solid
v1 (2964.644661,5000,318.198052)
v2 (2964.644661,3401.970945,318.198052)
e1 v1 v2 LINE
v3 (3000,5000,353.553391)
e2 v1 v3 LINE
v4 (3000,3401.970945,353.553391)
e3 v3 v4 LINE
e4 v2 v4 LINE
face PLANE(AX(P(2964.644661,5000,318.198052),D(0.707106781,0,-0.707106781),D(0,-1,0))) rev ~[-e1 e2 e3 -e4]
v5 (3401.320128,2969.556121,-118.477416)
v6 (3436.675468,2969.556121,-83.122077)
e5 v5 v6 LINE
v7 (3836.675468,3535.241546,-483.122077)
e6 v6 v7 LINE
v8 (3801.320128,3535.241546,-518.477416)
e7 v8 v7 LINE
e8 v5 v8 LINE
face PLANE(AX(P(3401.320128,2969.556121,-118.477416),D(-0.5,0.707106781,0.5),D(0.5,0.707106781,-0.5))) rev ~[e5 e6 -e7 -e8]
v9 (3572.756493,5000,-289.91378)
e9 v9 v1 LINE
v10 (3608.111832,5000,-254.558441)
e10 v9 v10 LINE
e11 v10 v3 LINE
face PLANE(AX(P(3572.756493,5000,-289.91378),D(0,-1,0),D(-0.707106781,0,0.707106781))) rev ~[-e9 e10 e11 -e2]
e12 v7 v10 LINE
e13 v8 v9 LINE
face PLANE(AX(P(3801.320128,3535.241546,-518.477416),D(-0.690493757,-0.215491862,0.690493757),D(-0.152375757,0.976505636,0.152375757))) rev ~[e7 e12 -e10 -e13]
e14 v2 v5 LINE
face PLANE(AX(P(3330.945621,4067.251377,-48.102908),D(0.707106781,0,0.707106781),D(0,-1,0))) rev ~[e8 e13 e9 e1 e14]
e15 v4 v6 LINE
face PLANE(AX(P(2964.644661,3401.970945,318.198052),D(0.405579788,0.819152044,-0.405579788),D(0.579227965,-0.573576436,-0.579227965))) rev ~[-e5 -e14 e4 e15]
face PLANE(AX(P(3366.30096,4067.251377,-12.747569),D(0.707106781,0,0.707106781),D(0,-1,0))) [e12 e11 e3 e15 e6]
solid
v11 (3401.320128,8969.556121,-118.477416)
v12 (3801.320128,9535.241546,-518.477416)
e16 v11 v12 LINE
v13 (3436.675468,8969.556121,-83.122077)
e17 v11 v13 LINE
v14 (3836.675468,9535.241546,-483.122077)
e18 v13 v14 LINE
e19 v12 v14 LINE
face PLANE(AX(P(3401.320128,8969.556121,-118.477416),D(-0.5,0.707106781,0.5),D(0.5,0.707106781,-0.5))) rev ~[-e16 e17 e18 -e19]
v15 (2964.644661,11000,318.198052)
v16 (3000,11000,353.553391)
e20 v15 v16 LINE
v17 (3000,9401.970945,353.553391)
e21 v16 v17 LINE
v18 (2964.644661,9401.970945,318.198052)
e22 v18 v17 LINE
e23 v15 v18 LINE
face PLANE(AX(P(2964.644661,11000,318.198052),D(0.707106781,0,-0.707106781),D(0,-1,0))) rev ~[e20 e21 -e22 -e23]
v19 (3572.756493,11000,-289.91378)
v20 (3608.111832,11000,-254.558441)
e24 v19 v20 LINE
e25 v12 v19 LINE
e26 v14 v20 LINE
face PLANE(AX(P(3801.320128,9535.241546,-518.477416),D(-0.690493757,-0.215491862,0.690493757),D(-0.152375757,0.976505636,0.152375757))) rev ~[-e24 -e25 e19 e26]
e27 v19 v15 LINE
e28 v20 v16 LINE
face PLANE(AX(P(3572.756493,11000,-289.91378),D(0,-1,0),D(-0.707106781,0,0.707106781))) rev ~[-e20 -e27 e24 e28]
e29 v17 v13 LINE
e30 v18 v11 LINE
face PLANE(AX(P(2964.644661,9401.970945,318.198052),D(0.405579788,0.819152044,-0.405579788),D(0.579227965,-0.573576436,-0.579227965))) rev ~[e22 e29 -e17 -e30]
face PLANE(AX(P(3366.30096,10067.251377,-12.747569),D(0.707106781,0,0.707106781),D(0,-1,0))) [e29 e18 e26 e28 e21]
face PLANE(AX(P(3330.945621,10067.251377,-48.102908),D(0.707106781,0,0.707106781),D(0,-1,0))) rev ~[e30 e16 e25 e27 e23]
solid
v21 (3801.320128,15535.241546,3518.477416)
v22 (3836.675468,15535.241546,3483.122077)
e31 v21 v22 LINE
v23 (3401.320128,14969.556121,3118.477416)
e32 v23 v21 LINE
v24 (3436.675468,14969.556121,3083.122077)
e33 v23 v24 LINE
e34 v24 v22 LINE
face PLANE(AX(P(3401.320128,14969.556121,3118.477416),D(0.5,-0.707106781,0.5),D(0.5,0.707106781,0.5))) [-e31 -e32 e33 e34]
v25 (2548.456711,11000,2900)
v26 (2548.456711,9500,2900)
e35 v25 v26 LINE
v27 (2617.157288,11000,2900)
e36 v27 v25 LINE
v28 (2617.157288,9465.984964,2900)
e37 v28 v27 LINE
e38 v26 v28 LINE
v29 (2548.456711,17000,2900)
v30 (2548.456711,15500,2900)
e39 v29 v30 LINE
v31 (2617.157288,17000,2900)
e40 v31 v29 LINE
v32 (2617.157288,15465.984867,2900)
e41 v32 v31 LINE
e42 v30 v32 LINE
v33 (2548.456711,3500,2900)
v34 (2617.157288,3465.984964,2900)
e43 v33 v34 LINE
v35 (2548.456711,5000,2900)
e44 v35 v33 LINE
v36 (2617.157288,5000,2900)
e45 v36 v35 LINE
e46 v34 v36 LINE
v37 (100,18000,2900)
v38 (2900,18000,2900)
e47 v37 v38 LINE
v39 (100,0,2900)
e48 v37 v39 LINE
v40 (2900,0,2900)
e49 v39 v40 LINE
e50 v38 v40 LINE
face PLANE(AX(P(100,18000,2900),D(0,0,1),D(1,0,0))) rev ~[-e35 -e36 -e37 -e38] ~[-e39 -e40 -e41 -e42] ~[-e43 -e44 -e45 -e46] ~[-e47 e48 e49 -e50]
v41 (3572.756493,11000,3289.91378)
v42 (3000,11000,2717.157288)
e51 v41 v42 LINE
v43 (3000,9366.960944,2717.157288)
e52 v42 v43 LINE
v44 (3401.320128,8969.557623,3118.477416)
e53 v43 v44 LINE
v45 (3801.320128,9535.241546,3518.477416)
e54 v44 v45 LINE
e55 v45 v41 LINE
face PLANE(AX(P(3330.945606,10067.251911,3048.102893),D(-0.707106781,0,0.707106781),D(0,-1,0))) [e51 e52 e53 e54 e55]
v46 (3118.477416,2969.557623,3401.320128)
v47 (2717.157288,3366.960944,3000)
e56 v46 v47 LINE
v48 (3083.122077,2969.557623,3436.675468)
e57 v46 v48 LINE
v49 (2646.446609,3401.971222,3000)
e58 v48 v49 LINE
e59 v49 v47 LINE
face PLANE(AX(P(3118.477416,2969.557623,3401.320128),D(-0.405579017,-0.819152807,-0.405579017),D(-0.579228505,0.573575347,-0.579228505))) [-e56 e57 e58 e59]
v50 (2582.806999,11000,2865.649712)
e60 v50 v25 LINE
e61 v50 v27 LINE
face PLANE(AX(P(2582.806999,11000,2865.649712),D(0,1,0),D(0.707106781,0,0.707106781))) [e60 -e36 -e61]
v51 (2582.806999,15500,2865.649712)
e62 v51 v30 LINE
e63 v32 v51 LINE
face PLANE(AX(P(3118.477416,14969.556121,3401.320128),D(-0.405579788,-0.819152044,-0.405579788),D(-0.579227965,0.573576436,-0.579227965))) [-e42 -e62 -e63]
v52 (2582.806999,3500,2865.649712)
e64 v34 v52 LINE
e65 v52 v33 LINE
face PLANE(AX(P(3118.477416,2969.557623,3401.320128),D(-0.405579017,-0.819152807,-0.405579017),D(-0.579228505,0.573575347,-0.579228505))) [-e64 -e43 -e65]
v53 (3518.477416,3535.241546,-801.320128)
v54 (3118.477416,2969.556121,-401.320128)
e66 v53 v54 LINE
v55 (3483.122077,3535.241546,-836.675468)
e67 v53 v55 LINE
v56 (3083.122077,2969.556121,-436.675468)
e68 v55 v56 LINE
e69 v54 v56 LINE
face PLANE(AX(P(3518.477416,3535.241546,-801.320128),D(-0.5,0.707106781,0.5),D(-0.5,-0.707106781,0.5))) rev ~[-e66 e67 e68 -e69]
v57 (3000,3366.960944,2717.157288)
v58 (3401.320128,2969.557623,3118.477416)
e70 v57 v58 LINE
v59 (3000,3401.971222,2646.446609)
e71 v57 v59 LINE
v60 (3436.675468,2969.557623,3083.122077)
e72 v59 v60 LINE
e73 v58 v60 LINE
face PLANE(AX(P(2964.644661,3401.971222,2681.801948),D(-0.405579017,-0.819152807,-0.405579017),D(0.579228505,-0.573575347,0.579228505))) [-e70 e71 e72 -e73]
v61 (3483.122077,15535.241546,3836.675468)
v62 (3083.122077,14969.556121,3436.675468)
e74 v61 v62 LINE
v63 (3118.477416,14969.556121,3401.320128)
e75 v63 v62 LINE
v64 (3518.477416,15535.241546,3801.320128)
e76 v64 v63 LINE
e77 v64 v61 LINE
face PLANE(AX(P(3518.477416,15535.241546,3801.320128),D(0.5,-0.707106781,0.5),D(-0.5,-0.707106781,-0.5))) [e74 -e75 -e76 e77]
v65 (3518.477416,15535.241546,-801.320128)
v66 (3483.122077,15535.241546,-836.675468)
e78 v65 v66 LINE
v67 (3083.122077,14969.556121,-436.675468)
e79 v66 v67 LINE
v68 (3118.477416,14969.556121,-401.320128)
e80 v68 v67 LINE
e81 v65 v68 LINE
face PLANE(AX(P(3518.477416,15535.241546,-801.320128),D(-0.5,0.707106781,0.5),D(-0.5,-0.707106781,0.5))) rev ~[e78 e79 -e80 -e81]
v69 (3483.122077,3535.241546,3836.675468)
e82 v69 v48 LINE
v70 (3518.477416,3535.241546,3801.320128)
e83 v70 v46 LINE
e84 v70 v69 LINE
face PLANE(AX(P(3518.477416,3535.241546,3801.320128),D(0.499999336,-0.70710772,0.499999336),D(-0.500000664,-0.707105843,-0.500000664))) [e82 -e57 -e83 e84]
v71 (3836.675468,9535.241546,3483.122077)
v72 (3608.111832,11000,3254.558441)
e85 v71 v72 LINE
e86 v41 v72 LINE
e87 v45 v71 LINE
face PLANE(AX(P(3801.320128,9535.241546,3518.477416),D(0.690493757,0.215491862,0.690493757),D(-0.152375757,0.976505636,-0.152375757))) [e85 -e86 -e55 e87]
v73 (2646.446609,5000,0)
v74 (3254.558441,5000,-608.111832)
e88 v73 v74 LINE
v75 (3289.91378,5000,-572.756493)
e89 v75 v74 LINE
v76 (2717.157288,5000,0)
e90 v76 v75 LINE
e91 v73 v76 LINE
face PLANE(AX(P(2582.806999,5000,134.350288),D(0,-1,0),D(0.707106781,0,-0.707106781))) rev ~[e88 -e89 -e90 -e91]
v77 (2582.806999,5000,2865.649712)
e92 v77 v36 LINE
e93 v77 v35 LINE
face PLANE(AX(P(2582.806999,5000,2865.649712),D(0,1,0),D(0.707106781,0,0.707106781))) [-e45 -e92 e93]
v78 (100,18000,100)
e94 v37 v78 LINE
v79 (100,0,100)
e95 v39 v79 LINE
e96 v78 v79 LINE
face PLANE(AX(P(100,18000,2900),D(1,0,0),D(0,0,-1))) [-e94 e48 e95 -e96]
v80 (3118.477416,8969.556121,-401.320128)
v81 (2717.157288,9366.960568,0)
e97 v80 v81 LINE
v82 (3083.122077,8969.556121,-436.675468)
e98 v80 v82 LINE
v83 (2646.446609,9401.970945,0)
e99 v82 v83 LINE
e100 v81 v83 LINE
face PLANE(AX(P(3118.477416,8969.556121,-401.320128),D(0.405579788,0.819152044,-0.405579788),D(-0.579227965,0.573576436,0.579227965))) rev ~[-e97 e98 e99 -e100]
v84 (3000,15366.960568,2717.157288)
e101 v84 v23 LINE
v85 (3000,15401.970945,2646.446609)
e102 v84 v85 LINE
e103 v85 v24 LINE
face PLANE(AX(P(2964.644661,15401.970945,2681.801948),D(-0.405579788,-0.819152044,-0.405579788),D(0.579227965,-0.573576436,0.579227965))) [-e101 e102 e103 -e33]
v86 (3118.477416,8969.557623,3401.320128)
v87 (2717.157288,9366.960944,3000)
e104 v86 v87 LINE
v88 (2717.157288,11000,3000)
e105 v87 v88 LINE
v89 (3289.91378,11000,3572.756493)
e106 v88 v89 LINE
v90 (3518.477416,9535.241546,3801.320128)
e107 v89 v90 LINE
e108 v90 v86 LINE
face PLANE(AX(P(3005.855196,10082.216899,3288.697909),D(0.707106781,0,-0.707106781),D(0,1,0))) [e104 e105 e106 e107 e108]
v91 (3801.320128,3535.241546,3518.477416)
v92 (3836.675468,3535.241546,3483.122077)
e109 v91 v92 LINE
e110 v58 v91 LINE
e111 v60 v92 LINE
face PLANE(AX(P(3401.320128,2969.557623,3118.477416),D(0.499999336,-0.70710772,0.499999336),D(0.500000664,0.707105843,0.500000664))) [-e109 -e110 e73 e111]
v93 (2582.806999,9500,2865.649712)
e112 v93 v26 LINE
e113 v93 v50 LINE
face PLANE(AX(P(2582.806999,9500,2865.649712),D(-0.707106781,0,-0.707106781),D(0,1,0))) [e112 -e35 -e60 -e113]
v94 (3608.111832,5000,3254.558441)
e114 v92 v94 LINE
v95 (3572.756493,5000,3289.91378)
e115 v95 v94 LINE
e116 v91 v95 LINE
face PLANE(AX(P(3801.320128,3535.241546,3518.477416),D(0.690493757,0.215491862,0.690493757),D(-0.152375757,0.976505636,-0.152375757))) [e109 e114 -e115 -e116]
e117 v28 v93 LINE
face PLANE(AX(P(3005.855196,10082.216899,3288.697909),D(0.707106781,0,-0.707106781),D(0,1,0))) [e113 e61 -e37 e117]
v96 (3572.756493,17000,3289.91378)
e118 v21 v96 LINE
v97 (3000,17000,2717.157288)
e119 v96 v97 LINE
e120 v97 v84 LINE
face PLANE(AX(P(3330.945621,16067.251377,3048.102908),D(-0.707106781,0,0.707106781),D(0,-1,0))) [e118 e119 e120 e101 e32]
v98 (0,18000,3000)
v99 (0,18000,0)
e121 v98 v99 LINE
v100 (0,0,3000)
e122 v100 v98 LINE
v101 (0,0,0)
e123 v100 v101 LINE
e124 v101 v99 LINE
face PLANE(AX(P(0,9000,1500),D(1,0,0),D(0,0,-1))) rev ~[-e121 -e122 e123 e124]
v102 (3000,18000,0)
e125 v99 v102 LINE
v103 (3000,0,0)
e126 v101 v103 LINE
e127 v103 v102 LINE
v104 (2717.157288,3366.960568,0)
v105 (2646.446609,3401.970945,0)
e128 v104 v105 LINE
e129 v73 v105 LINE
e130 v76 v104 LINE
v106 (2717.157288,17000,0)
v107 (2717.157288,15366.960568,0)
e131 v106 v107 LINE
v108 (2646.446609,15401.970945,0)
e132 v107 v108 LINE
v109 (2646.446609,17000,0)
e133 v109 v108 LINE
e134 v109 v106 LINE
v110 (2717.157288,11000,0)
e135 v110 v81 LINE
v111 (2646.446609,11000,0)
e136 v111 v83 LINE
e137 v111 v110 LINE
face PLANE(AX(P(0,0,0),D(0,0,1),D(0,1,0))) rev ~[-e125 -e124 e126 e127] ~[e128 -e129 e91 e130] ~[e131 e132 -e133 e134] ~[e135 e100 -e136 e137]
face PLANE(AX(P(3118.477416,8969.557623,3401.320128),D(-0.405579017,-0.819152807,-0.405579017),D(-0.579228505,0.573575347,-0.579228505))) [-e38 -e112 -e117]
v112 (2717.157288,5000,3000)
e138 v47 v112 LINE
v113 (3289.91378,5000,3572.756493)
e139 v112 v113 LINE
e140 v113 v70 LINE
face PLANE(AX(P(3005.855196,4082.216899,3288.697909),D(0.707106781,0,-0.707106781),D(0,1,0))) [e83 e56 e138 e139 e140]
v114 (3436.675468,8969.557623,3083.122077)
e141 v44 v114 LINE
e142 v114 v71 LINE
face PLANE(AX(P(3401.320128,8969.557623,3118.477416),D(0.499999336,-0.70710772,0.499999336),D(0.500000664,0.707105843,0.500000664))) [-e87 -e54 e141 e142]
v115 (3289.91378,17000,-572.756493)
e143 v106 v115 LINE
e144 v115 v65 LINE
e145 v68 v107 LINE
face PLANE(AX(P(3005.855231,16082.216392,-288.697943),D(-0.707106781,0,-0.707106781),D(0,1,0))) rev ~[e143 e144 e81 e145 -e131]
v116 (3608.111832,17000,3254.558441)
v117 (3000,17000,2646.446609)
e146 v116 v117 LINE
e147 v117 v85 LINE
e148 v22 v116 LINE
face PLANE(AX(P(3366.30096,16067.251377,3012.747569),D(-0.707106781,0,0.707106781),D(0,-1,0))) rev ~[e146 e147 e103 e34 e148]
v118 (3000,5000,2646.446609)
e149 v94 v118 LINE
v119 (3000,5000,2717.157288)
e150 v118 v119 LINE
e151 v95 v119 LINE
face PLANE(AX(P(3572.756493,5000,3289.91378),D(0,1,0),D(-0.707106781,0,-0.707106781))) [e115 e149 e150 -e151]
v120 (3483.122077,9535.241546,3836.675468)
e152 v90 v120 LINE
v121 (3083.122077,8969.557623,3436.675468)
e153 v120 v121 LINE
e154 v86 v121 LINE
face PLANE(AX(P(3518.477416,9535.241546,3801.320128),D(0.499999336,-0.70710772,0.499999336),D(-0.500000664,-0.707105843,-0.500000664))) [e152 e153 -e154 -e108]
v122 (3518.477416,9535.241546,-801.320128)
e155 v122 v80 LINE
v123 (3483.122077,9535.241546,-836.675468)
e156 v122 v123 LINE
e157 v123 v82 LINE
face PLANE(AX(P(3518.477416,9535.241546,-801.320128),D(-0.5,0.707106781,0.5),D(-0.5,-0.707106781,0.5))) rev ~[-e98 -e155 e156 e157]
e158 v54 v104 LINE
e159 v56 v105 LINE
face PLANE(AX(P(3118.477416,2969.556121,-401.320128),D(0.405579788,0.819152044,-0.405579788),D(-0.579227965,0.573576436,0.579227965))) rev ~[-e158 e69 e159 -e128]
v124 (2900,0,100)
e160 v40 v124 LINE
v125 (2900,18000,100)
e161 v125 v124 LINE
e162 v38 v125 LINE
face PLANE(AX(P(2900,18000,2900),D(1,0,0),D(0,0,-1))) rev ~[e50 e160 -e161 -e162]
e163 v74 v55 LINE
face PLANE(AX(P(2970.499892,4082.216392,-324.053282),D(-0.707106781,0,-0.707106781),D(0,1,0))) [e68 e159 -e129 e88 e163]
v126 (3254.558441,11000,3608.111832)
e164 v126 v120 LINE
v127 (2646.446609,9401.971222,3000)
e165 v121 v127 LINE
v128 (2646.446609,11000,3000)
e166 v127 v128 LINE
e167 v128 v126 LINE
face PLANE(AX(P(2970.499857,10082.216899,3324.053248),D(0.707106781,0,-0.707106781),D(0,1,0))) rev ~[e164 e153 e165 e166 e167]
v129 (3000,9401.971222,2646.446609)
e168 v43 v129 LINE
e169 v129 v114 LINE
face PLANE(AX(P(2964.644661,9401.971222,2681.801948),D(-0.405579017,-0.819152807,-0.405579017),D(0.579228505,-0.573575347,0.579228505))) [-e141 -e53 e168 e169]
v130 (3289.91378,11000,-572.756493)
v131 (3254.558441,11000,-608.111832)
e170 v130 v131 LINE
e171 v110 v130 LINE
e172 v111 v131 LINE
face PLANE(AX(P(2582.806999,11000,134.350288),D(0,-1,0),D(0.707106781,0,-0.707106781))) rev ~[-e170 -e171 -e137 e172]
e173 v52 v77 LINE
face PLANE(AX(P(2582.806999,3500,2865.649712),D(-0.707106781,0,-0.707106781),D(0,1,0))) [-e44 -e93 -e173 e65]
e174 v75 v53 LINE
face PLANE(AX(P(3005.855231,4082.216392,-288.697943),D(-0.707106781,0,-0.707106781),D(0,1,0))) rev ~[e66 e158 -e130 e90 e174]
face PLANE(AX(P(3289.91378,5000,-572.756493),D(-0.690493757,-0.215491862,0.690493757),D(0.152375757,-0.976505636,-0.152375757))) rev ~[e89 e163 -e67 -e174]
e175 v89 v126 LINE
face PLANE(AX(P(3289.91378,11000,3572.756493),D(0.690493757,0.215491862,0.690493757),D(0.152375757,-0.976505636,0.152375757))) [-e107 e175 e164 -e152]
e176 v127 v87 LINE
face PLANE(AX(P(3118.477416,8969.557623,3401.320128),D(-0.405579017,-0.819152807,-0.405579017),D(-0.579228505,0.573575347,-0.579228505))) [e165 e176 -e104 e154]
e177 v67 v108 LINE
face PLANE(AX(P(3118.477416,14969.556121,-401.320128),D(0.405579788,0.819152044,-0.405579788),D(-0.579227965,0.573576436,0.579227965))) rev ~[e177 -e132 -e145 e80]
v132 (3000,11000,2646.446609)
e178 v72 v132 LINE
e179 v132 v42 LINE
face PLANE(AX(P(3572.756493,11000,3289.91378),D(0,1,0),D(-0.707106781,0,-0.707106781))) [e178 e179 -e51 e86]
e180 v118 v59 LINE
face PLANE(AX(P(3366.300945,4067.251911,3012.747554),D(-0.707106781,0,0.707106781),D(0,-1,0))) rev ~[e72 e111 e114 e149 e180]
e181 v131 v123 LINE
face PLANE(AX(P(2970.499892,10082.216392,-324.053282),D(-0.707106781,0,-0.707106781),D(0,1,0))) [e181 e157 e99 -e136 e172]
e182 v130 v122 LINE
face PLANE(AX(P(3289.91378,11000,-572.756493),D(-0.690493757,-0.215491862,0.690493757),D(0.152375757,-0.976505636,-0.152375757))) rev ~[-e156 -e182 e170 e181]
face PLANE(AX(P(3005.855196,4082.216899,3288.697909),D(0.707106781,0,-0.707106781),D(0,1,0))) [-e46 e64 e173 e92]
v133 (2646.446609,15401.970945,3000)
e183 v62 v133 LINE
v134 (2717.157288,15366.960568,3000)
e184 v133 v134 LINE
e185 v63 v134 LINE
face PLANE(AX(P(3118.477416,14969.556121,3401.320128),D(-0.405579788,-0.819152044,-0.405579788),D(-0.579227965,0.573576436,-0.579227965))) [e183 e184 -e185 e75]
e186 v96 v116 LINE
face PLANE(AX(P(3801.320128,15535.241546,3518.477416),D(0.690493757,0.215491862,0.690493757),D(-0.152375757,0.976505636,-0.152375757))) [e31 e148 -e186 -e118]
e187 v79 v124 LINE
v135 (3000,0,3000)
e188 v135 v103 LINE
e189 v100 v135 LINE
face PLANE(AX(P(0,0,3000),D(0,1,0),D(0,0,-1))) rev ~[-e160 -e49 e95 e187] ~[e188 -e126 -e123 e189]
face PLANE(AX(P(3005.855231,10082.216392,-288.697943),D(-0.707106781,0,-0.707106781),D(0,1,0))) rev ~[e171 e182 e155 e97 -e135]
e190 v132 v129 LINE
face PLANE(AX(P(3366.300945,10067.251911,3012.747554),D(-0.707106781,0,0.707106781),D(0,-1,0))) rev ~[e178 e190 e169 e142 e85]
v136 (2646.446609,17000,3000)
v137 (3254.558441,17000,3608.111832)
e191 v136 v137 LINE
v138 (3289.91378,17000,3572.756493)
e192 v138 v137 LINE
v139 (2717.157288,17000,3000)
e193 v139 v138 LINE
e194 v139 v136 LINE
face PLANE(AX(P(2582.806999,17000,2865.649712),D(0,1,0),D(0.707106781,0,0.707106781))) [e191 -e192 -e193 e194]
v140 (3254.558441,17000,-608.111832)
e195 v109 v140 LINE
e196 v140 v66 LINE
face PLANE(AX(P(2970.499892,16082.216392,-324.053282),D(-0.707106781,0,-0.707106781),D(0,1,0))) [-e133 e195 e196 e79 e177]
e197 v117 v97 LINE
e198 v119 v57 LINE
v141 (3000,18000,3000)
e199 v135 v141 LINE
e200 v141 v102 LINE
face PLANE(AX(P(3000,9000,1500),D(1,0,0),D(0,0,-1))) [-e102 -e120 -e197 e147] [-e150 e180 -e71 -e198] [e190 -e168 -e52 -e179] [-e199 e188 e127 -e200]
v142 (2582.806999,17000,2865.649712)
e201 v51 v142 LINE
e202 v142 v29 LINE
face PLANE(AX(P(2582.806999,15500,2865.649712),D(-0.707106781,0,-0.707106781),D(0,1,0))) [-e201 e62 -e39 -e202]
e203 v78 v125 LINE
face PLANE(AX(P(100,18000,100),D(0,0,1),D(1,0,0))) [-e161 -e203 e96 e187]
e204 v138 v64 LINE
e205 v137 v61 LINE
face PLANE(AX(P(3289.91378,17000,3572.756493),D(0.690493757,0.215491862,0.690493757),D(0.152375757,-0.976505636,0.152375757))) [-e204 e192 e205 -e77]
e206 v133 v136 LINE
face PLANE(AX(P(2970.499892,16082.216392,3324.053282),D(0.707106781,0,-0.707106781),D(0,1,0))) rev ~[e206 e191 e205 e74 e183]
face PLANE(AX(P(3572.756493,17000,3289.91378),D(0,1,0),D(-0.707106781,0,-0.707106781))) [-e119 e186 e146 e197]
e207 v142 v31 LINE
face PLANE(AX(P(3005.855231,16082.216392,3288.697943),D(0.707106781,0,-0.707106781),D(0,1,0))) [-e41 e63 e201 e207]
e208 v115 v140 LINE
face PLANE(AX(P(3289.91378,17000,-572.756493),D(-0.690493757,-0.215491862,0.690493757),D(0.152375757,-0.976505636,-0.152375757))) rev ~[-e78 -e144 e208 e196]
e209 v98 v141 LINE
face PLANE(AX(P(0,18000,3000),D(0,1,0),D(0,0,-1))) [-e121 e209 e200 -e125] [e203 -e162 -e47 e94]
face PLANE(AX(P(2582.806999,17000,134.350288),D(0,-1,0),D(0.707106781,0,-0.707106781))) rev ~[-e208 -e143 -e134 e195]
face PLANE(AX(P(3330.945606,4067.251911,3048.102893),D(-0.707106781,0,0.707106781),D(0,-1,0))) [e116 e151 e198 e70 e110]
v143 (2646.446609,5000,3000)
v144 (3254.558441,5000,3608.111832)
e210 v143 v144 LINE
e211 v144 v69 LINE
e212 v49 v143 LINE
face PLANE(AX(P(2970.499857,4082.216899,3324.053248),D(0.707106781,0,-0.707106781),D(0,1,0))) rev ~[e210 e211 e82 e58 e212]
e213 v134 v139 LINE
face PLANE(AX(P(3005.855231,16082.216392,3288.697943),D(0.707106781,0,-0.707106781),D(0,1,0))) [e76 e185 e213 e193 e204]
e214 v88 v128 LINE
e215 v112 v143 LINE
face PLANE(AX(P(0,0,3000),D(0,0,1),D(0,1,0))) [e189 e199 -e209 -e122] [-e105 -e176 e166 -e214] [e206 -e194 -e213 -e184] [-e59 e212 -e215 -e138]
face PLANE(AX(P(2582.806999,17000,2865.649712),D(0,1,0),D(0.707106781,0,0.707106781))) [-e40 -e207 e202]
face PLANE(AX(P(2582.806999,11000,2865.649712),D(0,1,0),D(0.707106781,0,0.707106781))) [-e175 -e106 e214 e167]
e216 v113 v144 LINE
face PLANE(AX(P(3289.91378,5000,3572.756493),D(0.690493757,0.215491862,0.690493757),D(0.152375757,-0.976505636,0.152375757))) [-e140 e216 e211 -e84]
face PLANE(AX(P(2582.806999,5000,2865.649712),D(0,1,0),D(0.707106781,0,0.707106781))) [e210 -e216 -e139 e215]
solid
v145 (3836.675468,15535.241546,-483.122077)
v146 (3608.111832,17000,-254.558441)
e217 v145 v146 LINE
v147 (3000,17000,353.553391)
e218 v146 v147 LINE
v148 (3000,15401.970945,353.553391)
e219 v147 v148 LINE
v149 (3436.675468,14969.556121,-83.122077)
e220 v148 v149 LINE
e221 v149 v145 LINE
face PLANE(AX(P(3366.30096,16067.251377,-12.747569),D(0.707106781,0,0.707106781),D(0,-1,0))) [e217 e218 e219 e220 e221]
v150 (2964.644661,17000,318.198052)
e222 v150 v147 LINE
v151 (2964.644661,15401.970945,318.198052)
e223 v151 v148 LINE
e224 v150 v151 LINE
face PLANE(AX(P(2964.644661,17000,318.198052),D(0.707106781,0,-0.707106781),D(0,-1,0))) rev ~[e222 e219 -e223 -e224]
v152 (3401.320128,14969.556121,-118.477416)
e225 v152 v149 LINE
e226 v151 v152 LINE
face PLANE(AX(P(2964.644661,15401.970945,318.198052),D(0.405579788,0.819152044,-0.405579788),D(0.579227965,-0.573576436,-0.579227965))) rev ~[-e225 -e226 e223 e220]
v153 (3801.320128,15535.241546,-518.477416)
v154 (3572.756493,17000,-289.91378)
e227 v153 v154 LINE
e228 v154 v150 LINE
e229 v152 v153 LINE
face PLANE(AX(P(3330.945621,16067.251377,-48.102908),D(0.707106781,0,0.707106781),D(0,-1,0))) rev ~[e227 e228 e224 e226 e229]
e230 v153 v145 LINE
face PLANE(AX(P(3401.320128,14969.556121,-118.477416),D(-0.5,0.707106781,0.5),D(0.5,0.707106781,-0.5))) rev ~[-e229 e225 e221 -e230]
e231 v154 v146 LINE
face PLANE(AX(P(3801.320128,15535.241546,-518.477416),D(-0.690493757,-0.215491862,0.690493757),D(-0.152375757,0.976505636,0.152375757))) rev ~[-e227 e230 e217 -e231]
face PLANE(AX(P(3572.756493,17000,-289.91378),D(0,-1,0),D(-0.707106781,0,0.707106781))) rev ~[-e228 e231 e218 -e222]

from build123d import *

# Parameters (mm, degrees)
SKETCH1_W             = 3000
SKETCH1_H             = 18000
BOSS_EXTRUDE1_DEPTH   = 3000
BOSS_EXTRUDE2_DEPTH   = 50
BOSS_EXTRUDE3_DEPTH   = 50
BOSS_EXTRUDE3_2_DEPTH = 50
BOSS_EXTRUDE3_3_DEPTH = 50
SKETCH5_W             = 2800
SKETCH5_H             = 2800
CUT_EXTRUDE1_DEPTH    = 18305
BOSS_EXTRUDE4_DEPTH   = 50
BOSS_EXTRUDE5_DEPTH   = 50


with BuildPart() as part:
    # Sketch1 → Boss-Extrude1 (new body)
    with BuildSketch(Plane(origin=(0, 0, 0), x_dir=(0, 0, -1), z_dir=(1, 0, 0))):
        with Locations((-1500, 9000)):
            Rectangle(SKETCH1_W, SKETCH1_H)
    extrude(amount=BOSS_EXTRUDE1_DEPTH)

    # Sketch3 → Boss-Extrude2 (add)
    with BuildSketch(Plane(origin=(1358.578643763, 0, 1358.578643763), x_dir=(0, 1, 0), z_dir=(-0.707106781, 0, -0.707106781))):
        Polygon((17000, 1731.32034356), (17000, 2731.32034356), (15535.241545901, 3054.55813706), (14969.556120952, 2488.87271211), (15500, 1731.32034356), align=None)
        Polygon((11000, 1731.32034356), (11000, 2731.32034356), (9535.241545901, 3054.55813706), (8969.556120952, 2488.87271211), (9500, 1731.32034356), align=None)
        Polygon((5000, 1731.32034356), (5000, 2731.32034356), (3535.241545901, 3054.55813706), (2969.556120952, 2488.87271211), (3500, 1731.32034356), align=None)
    extrude(amount=BOSS_EXTRUDE2_DEPTH)

    # Sketch5 → Cut-Extrude1 (cut)
    with BuildSketch(Plane(origin=(0, 18000, 0), x_dir=(1, 0, 0), z_dir=(0, 1, 0))):
        with Locations((1500, -1500)):
            Rectangle(SKETCH5_W, SKETCH5_H)
    extrude(amount=-CUT_EXTRUDE1_DEPTH, mode=Mode.SUBTRACT)

    # Sketch8 → Boss-Extrude4 (add)
    with BuildSketch(Plane(origin=(-141.421356237, 0, 141.421356237), x_dir=(0, -1, 0), z_dir=(-0.707106781, 0, 0.707106781))):
        Polygon((-3500.000000001, 3852.640687119), (-5000, 3852.640687119), (-5000, 4852.640687119), (-3535.241545901, 5175.878480619), (-2969.557622603, 4610.19305567), align=None)
        Polygon((-9500, 3852.640687119), (-11000, 3852.640687119), (-11000, 4852.640687119), (-9535.241545901, 5175.878480619), (-8969.557622602, 4610.19305567), align=None)
        Polygon((-15500, 3852.640687119), (-17000, 3852.640687119), (-17000, 4852.640687119), (-15535.241545901, 5175.878480619), (-14969.556120952, 4610.19305567), align=None)
    extrude(amount=BOSS_EXTRUDE4_DEPTH)

    # Sketch9 → Boss-Extrude5 (add)
    with BuildSketch(Plane(origin=(141.421356237, 0, -141.421356237), x_dir=(0, -1, 0), z_dir=(-0.707106781, 0, 0.707106781))):
        Polygon((-5000, 3992.640687119), (-3401.971222165, 3992.640687119), (-2969.557622603, 4610.19305567), (-3535.241545901, 5175.878480619), (-5000, 4852.640687119), align=None)
        Polygon((-11000, 3992.640687119), (-9401.971222164, 3992.640687119), (-8969.557622602, 4610.19305567), (-9535.241545901, 5175.878480619), (-11000, 4852.640687119), align=None)
        Polygon((-17000, 3992.640687119), (-15401.970944651, 3992.640687119), (-14969.556120952, 4610.19305567), (-15535.241545901, 5175.878480619), (-17000, 4852.640687119), align=None)
    extrude(amount=-BOSS_EXTRUDE5_DEPTH)


with BuildPart() as body_2:
    # Sketch4 → Boss-Extrude3 (new body)
    with BuildSketch(Plane(origin=(1641.421356237, 0, 1641.421356237), x_dir=(0, 1, 0), z_dir=(-0.707106781, 0, -0.707106781))):
        Polygon((5000, 2731.32034356), (5000, 1871.32034356), (3401.970944651, 1871.32034356), (2969.556120952, 2488.87271211), (3535.241545901, 3054.55813706), align=None)
    extrude(amount=-BOSS_EXTRUDE3_DEPTH)


with BuildPart() as body_3:
    # Sketch4 → Boss-Extrude3 2 (new body)
    with BuildSketch(Plane(origin=(1641.421356237, 0, 1641.421356237), x_dir=(0, 1, 0), z_dir=(-0.707106781, 0, -0.707106781))):
        Polygon((11000, 2731.32034356), (11000, 1871.32034356), (9401.970944651, 1871.32034356), (8969.556120952, 2488.87271211), (9535.241545901, 3054.55813706), align=None)
    extrude(amount=-BOSS_EXTRUDE3_2_DEPTH)


with BuildPart() as body_4:
    # Sketch4 → Boss-Extrude3 3 (new body)
    with BuildSketch(Plane(origin=(1641.421356237, 0, 1641.421356237), x_dir=(0, 1, 0), z_dir=(-0.707106781, 0, -0.707106781))):
        Polygon((17000, 2731.32034356), (17000, 1871.32034356), (15401.970944651, 1871.32034356), (14969.556120952, 2488.87271211), (15535.241545901, 3054.55813706), align=None)
    extrude(amount=-BOSS_EXTRUDE3_3_DEPTH)


solid = Compound([part.part, body_2.part, body_3.part, body_4.part])
